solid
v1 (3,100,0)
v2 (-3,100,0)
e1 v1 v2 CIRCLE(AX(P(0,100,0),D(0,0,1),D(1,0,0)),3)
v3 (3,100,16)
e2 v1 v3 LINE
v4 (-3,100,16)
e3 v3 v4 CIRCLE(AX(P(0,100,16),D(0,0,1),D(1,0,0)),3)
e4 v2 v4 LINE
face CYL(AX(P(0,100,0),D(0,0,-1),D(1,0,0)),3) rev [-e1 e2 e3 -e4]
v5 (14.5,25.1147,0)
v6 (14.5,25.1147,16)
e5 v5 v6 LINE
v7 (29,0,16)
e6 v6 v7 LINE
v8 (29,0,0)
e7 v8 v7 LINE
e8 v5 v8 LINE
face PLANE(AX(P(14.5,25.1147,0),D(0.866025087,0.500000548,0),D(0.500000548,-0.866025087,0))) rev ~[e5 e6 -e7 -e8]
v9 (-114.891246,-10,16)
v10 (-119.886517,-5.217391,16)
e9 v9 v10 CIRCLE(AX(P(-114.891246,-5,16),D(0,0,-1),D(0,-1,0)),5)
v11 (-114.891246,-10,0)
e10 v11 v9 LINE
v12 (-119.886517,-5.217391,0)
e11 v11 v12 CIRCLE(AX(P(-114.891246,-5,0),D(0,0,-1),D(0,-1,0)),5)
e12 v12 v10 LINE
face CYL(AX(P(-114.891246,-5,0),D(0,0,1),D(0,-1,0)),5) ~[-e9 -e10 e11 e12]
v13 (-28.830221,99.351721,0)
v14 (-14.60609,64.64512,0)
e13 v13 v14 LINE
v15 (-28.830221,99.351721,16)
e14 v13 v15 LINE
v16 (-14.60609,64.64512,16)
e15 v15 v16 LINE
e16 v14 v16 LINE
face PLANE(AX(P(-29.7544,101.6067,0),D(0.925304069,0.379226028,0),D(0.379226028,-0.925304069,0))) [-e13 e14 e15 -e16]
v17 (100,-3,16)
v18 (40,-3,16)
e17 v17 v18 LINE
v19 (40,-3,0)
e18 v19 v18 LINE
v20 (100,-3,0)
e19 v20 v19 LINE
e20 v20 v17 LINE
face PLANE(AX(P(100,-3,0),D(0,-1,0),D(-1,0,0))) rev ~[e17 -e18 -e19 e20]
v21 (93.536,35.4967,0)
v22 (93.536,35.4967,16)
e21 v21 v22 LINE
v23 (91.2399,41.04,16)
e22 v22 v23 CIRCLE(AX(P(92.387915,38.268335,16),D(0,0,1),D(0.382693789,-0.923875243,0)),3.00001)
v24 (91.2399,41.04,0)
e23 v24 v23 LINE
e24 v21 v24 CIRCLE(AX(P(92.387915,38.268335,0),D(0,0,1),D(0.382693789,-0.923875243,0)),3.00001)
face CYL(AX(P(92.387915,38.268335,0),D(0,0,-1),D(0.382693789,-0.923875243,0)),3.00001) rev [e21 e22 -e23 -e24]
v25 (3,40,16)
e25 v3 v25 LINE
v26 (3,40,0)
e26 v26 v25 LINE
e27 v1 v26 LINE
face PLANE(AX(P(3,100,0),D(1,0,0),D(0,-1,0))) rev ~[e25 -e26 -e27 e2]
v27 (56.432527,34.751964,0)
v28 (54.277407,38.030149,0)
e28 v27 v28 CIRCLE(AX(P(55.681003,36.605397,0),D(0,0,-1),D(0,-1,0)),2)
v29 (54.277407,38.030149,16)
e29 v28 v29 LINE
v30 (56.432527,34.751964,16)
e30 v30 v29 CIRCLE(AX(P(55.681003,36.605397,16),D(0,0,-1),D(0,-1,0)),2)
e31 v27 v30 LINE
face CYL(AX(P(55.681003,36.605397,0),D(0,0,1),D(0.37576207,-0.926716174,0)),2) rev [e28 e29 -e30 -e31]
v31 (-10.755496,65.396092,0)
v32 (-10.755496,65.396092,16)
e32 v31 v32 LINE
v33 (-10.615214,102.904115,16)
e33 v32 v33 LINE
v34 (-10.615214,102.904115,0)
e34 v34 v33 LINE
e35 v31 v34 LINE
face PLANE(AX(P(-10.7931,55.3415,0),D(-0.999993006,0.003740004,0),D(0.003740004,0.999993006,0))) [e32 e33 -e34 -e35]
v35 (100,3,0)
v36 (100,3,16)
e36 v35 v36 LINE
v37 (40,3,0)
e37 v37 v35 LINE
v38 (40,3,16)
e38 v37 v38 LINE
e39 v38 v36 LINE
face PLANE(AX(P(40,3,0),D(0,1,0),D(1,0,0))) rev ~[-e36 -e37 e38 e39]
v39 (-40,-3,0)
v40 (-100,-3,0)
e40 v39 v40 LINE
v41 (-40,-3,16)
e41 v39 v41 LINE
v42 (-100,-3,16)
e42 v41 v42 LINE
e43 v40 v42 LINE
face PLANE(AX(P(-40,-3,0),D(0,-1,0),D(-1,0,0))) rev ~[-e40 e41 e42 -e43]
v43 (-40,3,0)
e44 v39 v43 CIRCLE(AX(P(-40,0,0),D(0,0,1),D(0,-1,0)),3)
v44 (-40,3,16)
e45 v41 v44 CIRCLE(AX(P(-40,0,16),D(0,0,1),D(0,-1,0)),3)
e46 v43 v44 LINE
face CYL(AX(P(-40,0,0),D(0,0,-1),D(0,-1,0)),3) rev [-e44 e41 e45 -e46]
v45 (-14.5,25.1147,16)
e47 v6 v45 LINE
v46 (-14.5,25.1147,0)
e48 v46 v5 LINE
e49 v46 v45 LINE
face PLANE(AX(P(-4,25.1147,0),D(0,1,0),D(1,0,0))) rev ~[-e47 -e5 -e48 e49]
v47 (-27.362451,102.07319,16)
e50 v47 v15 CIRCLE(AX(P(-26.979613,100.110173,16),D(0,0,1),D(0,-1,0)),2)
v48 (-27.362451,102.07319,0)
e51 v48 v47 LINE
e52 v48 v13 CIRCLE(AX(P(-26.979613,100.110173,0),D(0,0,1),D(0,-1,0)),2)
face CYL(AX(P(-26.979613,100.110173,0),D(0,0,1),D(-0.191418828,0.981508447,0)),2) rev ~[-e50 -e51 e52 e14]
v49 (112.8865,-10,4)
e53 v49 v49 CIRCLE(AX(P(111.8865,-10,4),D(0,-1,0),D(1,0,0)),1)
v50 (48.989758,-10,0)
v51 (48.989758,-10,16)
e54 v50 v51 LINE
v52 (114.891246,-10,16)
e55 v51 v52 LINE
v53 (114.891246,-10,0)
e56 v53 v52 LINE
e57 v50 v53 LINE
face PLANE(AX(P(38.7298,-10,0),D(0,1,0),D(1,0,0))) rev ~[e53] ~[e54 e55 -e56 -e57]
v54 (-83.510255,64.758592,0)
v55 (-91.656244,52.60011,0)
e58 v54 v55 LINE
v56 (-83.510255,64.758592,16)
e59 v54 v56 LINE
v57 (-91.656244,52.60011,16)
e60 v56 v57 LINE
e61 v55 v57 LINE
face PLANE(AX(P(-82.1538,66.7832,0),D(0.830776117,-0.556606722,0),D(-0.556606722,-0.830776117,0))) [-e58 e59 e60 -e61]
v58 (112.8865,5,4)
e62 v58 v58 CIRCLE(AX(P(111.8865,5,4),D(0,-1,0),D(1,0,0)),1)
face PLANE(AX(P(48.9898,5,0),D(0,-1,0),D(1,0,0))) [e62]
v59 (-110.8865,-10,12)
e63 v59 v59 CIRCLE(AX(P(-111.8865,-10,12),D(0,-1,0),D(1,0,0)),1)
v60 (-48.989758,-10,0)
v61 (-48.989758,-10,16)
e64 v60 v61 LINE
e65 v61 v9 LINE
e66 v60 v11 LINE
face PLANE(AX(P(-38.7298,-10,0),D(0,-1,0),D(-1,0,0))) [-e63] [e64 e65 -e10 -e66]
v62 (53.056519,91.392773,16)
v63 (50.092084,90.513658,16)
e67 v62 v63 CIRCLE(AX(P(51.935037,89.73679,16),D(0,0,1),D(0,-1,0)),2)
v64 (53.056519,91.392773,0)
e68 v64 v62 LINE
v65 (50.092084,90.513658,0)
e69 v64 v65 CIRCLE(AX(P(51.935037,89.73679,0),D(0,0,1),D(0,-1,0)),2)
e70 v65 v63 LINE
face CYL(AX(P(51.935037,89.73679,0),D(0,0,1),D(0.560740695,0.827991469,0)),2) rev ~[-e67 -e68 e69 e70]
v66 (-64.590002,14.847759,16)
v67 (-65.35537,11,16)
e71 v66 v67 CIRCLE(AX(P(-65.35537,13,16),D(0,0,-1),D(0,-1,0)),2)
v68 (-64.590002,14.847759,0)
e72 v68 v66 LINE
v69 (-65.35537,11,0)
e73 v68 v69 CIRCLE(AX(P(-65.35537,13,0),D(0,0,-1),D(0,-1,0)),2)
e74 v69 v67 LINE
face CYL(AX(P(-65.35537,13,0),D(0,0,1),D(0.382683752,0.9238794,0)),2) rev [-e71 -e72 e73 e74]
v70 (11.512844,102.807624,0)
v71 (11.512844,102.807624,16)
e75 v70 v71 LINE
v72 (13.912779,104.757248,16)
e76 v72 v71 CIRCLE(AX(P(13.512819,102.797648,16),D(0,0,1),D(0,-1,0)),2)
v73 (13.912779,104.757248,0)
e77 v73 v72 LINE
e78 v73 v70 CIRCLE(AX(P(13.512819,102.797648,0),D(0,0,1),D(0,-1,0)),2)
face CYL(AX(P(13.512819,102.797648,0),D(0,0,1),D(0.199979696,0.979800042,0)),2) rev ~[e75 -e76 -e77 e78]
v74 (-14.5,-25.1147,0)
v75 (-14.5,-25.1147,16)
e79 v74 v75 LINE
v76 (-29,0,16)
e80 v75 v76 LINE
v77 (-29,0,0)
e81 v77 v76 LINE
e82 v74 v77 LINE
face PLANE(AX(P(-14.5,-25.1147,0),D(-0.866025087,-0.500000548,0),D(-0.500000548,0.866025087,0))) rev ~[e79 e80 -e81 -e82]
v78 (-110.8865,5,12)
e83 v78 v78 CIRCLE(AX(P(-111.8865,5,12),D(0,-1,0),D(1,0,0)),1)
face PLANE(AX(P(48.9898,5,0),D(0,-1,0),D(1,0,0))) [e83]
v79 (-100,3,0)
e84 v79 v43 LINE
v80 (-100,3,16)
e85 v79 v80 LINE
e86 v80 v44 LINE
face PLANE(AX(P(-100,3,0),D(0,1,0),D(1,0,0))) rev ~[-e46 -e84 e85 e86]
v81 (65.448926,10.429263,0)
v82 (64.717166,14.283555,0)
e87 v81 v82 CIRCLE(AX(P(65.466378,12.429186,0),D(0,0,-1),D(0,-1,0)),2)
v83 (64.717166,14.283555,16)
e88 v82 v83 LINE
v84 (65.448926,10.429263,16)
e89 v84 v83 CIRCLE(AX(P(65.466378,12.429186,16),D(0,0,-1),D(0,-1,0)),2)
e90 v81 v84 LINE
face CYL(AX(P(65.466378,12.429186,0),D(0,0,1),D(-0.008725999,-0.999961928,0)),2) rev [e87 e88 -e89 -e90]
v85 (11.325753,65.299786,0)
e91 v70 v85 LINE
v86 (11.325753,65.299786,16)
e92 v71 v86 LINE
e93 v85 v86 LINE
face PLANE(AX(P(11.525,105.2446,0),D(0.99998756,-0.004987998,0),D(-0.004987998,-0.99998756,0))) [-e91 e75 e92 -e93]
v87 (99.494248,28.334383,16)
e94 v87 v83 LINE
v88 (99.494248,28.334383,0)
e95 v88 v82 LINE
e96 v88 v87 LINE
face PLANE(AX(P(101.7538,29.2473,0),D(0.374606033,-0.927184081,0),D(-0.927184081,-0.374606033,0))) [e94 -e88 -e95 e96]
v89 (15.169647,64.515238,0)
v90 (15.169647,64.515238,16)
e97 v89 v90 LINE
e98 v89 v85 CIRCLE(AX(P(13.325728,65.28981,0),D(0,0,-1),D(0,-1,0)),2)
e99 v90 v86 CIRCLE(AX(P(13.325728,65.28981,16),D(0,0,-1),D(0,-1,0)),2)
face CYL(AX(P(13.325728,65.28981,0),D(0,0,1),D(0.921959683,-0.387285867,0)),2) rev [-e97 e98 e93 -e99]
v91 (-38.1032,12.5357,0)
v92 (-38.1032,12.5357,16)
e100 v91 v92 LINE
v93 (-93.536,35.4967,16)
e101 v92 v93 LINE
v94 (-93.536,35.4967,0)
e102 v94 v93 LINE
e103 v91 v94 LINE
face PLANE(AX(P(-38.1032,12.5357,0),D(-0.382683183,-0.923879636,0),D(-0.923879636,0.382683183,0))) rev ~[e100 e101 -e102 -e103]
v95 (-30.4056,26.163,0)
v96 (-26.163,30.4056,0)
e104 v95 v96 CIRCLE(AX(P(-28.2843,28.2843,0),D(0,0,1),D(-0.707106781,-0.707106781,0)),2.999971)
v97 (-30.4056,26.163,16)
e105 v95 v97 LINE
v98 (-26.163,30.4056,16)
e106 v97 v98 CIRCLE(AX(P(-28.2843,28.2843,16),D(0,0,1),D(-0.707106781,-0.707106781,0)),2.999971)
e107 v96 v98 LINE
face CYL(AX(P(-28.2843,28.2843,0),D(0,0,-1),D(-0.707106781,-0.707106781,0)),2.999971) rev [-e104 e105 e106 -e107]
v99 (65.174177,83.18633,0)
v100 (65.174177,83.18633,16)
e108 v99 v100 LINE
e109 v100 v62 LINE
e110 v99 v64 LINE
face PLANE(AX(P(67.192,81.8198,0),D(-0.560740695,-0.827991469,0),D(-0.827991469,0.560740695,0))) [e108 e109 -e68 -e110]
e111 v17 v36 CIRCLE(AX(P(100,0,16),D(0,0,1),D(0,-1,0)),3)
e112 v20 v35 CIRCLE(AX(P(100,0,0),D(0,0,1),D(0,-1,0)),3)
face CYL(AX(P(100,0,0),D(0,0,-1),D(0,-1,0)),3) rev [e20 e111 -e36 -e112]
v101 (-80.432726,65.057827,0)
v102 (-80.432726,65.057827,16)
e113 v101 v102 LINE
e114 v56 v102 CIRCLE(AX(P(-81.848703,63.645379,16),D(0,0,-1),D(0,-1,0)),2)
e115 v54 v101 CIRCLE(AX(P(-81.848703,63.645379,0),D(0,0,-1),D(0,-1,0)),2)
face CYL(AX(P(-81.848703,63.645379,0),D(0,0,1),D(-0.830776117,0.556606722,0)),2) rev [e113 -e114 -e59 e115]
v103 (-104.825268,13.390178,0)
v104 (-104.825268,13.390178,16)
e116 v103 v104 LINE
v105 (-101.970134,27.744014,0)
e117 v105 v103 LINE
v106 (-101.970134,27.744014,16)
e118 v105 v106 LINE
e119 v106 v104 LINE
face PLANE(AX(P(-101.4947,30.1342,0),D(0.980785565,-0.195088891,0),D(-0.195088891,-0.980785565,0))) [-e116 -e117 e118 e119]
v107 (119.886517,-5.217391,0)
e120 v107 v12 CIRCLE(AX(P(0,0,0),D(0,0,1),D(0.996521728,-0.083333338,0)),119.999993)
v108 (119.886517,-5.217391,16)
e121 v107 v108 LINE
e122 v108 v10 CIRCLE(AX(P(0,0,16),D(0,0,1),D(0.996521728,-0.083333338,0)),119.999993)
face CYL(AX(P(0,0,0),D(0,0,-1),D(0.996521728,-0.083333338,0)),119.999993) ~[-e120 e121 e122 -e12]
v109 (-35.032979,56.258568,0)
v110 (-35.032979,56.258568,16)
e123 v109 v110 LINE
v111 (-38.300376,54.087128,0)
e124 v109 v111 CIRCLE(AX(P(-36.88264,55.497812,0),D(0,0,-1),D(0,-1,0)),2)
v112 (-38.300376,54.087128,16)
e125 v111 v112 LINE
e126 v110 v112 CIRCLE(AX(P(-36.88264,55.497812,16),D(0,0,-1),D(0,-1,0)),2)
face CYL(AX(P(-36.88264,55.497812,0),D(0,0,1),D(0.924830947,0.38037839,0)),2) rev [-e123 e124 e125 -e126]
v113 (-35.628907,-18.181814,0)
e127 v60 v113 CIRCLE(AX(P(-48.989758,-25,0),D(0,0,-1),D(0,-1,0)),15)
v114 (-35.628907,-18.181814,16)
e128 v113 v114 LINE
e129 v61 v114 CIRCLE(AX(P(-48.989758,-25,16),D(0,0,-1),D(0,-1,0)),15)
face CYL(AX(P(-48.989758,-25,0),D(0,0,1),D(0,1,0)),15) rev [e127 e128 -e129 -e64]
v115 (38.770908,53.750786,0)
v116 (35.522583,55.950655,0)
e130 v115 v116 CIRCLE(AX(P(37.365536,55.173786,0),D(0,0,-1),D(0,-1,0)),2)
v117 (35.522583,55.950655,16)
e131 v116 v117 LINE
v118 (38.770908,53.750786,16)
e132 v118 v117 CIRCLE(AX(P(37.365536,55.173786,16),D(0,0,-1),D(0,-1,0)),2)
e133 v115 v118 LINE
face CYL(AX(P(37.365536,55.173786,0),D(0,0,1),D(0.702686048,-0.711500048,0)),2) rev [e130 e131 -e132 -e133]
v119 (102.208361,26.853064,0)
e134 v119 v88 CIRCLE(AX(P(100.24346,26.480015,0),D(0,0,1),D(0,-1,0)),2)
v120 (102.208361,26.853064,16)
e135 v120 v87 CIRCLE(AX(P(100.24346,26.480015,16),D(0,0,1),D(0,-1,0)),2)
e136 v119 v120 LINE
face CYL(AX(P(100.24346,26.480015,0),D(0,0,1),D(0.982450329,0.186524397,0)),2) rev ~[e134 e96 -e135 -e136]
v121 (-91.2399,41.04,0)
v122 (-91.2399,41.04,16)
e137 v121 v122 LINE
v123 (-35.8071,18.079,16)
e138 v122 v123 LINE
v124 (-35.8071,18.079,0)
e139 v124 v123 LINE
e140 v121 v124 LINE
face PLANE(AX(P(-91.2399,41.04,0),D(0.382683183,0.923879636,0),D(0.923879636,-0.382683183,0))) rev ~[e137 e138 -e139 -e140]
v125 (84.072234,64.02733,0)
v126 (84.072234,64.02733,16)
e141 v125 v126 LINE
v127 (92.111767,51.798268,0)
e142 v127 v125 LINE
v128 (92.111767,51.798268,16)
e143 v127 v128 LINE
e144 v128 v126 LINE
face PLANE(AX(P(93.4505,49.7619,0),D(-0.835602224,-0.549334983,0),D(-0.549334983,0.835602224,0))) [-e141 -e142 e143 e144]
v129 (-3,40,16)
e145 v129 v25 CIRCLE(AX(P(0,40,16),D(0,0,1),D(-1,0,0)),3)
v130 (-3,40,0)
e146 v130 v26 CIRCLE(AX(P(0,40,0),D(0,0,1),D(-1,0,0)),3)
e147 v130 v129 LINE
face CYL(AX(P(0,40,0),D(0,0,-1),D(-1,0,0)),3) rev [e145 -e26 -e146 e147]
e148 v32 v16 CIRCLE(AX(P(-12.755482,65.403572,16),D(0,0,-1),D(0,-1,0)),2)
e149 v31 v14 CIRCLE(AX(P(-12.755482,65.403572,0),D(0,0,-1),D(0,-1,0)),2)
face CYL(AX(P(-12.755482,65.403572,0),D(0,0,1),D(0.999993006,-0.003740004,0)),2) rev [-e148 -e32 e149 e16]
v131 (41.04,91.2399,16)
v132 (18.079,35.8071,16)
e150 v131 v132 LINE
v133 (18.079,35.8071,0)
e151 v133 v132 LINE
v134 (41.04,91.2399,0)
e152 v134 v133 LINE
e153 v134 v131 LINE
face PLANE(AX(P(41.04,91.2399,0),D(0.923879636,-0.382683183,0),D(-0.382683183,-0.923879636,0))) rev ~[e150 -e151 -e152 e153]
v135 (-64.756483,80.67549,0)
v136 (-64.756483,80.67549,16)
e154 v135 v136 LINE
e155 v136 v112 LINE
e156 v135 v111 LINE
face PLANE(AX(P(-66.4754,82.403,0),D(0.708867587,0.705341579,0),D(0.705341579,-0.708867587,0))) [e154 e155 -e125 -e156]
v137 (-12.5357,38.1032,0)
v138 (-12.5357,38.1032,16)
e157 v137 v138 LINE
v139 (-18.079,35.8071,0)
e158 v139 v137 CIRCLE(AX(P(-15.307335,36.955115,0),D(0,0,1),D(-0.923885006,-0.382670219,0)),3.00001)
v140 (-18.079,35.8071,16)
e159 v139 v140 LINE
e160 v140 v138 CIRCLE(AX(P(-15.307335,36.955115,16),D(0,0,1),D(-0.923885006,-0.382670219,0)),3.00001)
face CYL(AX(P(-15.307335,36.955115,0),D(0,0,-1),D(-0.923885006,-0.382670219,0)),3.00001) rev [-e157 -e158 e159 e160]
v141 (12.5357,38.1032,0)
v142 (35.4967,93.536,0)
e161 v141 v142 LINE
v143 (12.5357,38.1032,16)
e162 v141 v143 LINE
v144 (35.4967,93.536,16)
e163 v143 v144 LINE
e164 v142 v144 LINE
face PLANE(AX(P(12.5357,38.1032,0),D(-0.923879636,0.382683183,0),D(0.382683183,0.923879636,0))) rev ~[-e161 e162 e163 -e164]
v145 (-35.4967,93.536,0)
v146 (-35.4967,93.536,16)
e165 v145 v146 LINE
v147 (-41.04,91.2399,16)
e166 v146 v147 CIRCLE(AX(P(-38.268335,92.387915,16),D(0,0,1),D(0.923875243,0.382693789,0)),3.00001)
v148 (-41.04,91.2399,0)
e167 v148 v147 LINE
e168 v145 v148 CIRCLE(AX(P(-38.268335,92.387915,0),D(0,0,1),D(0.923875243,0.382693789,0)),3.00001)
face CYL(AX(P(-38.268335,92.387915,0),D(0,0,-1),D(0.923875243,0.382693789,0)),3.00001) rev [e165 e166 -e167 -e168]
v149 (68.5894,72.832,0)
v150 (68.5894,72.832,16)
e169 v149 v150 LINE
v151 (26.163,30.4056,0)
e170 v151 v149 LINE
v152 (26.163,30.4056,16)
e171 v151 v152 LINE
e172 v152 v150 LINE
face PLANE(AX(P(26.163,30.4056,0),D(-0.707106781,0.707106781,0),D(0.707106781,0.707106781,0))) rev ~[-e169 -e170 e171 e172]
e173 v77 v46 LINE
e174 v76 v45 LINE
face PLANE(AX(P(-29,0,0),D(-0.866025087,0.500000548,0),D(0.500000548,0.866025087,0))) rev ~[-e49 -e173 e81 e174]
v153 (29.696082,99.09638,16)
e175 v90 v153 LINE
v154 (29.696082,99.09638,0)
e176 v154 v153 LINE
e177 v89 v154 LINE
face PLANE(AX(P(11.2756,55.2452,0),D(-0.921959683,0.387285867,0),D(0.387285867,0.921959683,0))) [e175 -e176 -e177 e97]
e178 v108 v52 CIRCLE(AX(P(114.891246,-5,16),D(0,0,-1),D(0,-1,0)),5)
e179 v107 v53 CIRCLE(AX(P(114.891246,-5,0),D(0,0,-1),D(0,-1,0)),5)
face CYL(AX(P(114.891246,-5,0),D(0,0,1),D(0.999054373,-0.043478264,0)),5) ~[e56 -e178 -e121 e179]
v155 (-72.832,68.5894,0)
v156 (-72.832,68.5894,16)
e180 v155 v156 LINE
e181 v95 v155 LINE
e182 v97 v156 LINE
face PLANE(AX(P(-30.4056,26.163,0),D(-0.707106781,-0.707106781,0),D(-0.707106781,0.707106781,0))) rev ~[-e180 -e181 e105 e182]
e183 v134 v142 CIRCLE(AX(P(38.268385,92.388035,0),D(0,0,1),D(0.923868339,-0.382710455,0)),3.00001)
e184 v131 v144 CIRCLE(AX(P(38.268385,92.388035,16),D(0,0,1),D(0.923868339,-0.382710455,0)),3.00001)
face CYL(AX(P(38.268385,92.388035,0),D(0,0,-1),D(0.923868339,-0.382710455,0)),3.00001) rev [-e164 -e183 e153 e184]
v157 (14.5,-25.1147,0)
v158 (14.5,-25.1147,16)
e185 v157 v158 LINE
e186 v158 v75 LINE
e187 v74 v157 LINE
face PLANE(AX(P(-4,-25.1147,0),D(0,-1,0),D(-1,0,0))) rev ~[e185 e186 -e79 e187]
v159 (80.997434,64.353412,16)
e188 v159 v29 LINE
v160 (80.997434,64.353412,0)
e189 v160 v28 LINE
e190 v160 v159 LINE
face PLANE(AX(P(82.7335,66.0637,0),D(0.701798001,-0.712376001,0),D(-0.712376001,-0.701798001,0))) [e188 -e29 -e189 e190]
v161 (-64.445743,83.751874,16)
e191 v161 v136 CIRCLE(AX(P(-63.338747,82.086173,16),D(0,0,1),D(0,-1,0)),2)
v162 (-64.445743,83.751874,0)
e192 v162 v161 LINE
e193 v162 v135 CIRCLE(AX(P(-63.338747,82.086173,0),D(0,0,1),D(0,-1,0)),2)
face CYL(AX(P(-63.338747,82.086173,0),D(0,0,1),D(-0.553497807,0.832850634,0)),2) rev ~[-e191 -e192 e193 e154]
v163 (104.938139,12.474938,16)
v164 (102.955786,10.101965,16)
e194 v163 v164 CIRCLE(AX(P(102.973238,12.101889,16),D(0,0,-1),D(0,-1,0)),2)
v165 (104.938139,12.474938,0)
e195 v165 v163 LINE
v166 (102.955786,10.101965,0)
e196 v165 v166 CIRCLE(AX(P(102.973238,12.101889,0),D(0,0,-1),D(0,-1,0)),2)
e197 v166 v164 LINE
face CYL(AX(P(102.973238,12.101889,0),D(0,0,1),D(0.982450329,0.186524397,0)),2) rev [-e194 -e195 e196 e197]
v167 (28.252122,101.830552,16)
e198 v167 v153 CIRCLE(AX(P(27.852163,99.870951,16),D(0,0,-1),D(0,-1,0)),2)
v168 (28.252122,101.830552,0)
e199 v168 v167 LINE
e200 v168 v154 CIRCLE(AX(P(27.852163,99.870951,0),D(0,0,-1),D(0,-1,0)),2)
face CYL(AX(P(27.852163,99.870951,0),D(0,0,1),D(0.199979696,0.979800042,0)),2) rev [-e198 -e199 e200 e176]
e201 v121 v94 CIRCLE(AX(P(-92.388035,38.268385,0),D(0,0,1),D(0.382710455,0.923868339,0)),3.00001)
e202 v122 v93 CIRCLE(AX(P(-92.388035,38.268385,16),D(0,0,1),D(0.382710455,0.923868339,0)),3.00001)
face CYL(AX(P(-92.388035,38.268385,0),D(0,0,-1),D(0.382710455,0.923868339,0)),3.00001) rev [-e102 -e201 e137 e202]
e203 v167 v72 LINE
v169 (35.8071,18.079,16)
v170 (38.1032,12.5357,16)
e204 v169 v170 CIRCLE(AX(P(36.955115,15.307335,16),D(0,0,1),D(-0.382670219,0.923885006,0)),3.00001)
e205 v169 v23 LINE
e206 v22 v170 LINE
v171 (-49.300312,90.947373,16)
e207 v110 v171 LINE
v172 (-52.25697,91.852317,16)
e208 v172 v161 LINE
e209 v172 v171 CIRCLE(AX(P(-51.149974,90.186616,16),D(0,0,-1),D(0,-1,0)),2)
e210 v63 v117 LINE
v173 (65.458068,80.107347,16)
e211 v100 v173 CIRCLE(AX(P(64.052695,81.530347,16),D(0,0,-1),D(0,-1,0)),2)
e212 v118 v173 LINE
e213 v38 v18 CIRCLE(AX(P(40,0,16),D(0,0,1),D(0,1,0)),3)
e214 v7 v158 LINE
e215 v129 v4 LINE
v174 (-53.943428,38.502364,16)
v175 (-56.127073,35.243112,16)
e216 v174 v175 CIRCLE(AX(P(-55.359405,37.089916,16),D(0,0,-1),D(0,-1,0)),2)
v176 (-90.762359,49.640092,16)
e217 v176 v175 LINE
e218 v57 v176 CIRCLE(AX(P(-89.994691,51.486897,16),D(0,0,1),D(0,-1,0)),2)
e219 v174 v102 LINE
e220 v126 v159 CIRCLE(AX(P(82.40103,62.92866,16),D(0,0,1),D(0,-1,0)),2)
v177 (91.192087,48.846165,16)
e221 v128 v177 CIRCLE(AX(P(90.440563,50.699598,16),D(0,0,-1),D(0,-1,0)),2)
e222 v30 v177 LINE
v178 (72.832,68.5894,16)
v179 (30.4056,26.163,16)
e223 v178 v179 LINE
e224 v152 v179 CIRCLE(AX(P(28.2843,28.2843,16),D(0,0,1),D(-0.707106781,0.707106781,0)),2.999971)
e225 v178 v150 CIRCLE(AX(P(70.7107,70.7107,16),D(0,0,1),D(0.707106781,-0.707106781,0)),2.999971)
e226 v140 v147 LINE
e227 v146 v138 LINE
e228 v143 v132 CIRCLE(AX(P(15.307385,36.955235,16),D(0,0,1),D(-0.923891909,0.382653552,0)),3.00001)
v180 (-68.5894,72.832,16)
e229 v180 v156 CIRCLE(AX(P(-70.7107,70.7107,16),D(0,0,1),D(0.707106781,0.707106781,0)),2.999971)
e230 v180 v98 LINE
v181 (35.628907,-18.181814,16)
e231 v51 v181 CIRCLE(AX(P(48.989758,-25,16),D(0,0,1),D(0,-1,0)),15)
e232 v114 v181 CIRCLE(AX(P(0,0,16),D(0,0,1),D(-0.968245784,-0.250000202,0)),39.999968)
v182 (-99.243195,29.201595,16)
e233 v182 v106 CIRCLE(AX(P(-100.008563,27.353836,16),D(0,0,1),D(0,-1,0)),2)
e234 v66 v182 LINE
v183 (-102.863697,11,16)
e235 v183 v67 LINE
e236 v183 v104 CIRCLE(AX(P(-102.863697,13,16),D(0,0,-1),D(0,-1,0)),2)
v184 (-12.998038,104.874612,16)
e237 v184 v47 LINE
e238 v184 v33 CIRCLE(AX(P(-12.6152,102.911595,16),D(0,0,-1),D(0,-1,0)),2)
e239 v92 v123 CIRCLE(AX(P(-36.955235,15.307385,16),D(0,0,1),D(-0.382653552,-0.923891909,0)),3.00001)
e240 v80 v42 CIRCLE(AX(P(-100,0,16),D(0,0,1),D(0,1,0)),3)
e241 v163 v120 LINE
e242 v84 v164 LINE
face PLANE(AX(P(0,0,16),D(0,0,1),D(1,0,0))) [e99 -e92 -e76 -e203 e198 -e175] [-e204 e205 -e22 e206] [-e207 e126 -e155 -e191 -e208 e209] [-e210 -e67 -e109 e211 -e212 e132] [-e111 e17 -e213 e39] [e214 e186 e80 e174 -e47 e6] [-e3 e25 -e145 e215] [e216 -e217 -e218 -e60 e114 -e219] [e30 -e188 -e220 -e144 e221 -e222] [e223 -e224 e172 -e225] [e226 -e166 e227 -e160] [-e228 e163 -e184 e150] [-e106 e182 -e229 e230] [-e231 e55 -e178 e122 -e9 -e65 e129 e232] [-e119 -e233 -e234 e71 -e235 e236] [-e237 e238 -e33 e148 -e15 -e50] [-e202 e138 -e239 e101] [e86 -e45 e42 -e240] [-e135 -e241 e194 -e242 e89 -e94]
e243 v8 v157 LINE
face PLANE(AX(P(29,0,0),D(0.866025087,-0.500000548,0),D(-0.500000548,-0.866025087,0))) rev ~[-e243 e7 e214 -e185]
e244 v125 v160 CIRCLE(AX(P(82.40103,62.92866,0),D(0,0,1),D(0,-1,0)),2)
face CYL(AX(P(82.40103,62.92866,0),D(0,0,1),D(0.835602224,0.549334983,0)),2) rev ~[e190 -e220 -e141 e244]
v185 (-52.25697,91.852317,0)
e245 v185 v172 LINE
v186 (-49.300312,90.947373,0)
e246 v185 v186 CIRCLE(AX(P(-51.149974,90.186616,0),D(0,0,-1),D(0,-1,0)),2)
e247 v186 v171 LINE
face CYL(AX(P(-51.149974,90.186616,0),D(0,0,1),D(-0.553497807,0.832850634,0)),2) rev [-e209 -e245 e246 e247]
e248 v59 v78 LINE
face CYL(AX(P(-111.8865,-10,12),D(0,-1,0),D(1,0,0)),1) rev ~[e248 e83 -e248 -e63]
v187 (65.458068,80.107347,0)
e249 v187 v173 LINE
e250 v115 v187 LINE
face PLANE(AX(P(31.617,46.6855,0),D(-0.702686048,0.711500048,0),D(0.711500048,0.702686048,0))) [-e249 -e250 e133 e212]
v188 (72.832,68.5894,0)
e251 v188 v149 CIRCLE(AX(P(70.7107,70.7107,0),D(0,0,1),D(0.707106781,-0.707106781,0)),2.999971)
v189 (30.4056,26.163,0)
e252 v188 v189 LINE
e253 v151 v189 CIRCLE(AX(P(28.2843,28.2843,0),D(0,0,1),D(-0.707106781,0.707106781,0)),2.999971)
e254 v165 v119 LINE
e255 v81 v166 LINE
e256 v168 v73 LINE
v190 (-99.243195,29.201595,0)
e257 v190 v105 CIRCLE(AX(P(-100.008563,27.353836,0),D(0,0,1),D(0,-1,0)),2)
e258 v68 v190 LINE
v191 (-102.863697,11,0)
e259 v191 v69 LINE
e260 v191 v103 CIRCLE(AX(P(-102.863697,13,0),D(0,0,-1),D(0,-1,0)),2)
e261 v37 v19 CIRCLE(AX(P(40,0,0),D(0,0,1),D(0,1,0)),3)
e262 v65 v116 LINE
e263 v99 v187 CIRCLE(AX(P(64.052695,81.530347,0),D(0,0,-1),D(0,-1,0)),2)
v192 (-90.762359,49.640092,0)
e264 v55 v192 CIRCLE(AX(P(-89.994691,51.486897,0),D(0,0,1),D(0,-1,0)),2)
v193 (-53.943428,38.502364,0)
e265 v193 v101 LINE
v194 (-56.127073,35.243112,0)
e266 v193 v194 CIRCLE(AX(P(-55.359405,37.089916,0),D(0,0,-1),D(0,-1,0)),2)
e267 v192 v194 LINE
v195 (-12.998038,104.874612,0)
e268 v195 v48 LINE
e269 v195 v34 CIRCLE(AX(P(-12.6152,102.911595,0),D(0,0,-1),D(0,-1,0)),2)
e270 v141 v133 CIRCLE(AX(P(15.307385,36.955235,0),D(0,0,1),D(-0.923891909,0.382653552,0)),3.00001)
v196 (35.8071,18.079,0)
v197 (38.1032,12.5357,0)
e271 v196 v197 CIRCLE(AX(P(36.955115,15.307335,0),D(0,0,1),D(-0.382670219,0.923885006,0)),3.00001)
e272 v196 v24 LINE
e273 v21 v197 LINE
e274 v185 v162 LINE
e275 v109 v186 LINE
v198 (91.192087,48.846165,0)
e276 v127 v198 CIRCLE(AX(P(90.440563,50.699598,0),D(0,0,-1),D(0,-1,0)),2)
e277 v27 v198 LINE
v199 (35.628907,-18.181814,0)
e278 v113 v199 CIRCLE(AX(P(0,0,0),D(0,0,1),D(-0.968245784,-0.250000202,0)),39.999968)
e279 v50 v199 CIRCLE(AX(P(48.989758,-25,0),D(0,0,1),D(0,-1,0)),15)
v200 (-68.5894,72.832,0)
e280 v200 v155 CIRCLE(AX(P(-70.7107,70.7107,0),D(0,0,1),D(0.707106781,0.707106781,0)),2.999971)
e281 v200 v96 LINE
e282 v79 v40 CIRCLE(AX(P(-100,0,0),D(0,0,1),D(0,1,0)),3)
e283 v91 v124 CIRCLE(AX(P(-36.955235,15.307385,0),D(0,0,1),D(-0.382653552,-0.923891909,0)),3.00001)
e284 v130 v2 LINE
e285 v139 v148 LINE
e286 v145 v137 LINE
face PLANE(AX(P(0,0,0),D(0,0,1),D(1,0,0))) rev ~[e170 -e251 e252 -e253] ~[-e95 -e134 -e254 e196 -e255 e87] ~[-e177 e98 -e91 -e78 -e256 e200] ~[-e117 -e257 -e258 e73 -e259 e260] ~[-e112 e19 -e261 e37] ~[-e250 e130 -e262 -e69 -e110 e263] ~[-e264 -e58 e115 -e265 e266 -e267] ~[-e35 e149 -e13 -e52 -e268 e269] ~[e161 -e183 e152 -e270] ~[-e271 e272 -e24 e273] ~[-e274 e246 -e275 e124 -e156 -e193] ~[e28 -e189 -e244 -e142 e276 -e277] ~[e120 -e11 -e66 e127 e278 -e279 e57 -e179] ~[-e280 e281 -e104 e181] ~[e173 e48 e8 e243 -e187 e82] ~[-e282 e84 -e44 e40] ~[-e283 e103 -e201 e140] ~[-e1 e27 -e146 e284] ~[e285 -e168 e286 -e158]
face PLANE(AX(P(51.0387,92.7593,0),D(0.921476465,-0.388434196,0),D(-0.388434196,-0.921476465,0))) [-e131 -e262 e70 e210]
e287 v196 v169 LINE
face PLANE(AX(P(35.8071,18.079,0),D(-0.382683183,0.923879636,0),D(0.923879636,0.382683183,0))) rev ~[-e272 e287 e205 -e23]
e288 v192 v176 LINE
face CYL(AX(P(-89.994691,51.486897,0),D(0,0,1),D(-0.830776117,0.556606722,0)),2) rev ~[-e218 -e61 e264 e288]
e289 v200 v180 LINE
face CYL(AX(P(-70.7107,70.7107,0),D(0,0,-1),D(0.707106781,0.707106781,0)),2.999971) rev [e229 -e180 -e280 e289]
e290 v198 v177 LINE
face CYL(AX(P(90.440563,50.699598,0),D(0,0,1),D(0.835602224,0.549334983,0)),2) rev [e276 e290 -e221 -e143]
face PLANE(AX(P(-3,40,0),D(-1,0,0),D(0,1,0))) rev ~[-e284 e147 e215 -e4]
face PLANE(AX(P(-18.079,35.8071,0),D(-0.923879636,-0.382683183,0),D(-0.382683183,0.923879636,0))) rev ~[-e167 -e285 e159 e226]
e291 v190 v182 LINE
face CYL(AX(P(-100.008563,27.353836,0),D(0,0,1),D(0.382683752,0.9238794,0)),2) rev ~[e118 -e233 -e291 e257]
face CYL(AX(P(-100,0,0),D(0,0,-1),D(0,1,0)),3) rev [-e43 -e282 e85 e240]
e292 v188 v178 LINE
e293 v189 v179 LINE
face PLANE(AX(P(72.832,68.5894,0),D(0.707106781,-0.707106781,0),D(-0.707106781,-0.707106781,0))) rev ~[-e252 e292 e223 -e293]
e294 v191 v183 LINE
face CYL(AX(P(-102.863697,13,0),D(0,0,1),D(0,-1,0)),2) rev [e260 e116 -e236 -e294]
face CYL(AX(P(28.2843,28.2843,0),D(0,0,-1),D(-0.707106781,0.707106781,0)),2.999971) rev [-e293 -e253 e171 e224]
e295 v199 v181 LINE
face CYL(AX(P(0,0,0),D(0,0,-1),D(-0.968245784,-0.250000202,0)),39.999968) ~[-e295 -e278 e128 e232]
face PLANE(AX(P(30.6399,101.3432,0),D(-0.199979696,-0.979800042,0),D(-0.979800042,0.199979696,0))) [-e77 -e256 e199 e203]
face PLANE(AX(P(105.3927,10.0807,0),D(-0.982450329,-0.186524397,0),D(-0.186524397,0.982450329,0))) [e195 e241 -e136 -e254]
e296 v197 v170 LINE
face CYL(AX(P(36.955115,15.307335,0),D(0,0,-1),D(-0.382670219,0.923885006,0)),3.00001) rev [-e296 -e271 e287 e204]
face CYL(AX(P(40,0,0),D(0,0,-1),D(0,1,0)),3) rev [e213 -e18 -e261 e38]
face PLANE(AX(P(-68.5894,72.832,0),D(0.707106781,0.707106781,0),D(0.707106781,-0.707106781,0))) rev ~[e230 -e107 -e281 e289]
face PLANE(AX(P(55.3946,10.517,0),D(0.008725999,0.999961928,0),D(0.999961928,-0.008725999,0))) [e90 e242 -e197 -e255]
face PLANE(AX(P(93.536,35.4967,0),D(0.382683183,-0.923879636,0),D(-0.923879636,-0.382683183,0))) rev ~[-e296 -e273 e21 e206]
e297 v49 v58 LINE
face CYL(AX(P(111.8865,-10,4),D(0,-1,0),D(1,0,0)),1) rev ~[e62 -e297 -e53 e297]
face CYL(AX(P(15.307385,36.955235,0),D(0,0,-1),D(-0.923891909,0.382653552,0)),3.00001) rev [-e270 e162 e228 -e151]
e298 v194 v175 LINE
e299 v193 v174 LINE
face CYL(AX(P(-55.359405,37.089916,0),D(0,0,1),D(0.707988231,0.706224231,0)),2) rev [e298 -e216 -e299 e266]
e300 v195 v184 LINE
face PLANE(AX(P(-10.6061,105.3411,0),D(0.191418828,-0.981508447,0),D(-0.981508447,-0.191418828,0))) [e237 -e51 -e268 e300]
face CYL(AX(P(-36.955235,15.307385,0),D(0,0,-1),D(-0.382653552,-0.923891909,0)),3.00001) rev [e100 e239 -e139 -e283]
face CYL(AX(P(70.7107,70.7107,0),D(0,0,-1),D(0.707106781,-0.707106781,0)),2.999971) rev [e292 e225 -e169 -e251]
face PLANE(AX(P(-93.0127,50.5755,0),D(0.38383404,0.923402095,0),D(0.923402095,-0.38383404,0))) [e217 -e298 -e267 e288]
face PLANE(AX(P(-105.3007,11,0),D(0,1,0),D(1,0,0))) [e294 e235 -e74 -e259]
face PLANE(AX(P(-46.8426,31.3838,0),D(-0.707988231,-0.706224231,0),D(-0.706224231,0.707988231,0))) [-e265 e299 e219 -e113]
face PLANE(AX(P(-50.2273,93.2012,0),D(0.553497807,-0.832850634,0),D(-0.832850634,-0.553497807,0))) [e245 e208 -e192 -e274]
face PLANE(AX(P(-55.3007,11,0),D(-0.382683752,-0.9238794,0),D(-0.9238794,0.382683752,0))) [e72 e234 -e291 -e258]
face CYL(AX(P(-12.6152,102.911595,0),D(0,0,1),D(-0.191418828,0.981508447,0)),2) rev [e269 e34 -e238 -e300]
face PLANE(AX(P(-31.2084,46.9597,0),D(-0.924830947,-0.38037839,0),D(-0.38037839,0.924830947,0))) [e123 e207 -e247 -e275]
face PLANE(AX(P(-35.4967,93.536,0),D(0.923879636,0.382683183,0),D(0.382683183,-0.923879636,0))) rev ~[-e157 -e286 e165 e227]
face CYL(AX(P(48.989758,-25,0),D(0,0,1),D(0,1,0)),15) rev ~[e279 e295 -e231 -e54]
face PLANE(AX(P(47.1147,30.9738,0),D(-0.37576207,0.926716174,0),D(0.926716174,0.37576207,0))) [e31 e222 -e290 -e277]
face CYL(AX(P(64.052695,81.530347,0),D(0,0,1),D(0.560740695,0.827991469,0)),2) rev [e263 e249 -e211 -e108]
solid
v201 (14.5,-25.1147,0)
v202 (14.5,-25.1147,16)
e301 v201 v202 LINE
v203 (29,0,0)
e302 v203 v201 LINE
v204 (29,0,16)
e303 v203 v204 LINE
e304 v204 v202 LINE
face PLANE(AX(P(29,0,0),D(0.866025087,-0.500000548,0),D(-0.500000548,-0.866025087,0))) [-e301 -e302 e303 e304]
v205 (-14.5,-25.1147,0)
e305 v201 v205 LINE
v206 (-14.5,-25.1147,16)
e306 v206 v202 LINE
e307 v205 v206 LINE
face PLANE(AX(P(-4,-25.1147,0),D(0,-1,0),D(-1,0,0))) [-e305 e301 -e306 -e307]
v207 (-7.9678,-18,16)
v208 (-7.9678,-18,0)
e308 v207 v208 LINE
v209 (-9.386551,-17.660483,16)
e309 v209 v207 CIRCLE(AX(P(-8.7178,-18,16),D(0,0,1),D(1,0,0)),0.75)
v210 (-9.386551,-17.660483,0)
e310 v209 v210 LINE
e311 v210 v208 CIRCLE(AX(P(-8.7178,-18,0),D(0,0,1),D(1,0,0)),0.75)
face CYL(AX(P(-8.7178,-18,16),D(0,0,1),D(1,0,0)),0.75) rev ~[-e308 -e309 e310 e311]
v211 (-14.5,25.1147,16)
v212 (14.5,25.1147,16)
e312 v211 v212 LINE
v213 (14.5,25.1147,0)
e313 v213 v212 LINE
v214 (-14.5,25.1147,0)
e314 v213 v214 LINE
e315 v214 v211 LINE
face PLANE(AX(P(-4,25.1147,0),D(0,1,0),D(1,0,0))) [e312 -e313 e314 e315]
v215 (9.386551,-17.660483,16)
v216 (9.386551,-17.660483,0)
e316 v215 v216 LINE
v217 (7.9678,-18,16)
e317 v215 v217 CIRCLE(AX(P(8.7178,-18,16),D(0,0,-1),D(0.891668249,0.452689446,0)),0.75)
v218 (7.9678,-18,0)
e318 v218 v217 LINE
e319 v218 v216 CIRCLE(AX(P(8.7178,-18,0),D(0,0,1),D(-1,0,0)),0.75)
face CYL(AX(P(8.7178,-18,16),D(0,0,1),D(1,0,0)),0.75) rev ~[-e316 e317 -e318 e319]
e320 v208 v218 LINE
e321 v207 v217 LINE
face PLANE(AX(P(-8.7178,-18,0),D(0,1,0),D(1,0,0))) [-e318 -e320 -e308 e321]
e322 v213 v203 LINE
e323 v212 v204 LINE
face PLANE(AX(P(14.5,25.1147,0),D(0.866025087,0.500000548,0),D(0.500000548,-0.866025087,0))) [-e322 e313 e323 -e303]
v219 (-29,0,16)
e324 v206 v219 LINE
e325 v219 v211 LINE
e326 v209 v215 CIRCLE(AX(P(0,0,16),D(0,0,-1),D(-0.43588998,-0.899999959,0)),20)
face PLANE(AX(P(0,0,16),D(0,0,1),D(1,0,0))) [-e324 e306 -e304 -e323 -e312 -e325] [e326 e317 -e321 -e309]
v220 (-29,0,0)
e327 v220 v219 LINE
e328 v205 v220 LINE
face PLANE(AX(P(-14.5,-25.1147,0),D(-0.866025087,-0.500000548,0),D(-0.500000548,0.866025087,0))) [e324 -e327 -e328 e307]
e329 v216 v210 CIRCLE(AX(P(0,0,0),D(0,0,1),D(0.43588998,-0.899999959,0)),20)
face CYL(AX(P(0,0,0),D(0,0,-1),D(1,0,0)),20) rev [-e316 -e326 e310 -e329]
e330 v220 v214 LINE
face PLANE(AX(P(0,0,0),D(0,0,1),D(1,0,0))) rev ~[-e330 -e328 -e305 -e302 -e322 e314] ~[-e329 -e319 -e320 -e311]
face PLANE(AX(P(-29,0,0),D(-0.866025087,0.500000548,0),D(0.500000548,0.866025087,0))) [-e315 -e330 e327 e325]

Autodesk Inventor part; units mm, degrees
ref_plane "YZ Plane" through (0, 0, 0) normal (1, 0, 0) x (0, 1, 0)
ref_plane "XZ Plane" through (0, 0, 0) normal (0, 1, 0) x (-1, 0, 0)
ref_plane "XY Plane" through (0, 0, 0) normal (0, 0, 1) x (1, 0, 0)
sketch "Skizze1" plane through (0, 0, 0) normal (0, 0, 1) x (1, 0, 0)
  line L0 (-4, 29) -> (4, 29)
  line L1 (4, 29) -> (4, 19.5959)
  line L2 (-4, 19.5959) -> (-4, 29)
  line L3 (-4, 29) -> (4, 19.5959) construction
  line L4 (4, 29) -> (-4, 19.5959) construction
  line L5 (0, 152) -> (0, -72) construction
  line L6 (-168, 0) -> (168, 0) construction
  line L7 (-40, 0) -> (-100, 0) construction
  line L8 (-40, -3) -> (-100, -3)
  line L9 (-100, 3) -> (-40, 3)
  arc A0 (-40, -3) -> (-40, 3) centre (-40, 0) ccw
  arc A1 (-100, 3) -> (-100, -3) centre (-100, 0) ccw
  arc A2 (-38.7298, -10) -> (38.7298, -10) centre (0, 0) ccw
  line L10 (-38.7298, -10) -> (-119.5826, -10)
  line L11 (38.7298, -10) -> (119.5826, -10)
  arc A3 (119.5826, -10) -> (-119.5826, -10) centre (0, 0) ccw
  arc A4 (-38.1032, 12.5357) -> (-35.8071, 18.079) centre (-36.9552, 15.3073) ccw
  line L12 (-91.2399, 41.04) -> (-35.8071, 18.079)
  line L13 (-36.9552, 15.3073) -> (-92.388, 38.2683) construction
  arc A5 (-91.2399, 41.04) -> (-93.536, 35.4967) centre (-92.388, 38.2683) ccw
  line L14 (-38.1032, 12.5357) -> (-93.536, 35.4967)
  arc A6 (-30.4056, 26.163) -> (-26.163, 30.4056) centre (-28.2843, 28.2843) ccw
  line L15 (-68.5894, 72.832) -> (-26.163, 30.4056)
  line L16 (-28.2843, 28.2843) -> (-70.7107, 70.7107) construction
  arc A7 (-68.5894, 72.832) -> (-72.832, 68.5894) centre (-70.7107, 70.7107) ccw
  line L17 (-30.4056, 26.163) -> (-72.832, 68.5894)
  arc A8 (-18.079, 35.8071) -> (-12.5357, 38.1032) centre (-15.3073, 36.9552) ccw
  line L18 (-35.4967, 93.536) -> (-12.5357, 38.1032)
  line L19 (-15.3073, 36.9552) -> (-38.2683, 92.388) construction
  arc A9 (-35.4967, 93.536) -> (-41.04, 91.2399) centre (-38.2683, 92.388) ccw
  line L20 (-18.079, 35.8071) -> (-41.04, 91.2399)
  arc A10 (-3, 40) -> (3, 40) centre (0, 40) ccw
  line L21 (3, 100) -> (3, 40)
  line L22 (0, 40) -> (0, 100) construction
  arc A11 (3, 100) -> (-3, 100) centre (0, 100) ccw
  line L23 (-3, 40) -> (-3, 100)
  arc A12 (12.5357, 38.1032) -> (18.079, 35.8071) centre (15.3073, 36.9552) ccw
  line L24 (41.04, 91.2399) -> (18.079, 35.8071)
  line L25 (15.3073, 36.9552) -> (38.2683, 92.388) construction
  arc A13 (41.04, 91.2399) -> (35.4967, 93.536) centre (38.2683, 92.388) ccw
  line L26 (12.5357, 38.1032) -> (35.4967, 93.536)
  arc A14 (26.163, 30.4056) -> (30.4056, 26.163) centre (28.2843, 28.2843) ccw
  line L27 (72.832, 68.5894) -> (30.4056, 26.163)
  line L28 (28.2843, 28.2843) -> (70.7107, 70.7107) construction
  arc A15 (72.832, 68.5894) -> (68.5894, 72.832) centre (70.7107, 70.7107) ccw
  line L29 (26.163, 30.4056) -> (68.5894, 72.832)
  arc A16 (35.8071, 18.079) -> (38.1032, 12.5357) centre (36.9552, 15.3073) ccw
  line L30 (93.536, 35.4967) -> (38.1032, 12.5357)
  line L31 (36.9552, 15.3073) -> (92.388, 38.2683) construction
  arc A17 (93.536, 35.4967) -> (91.2399, 41.04) centre (92.388, 38.2683) ccw
  line L32 (35.8071, 18.079) -> (91.2399, 41.04)
  arc A18 (40, 3) -> (40, -3) centre (40, 0) ccw
  line L33 (100, -3) -> (40, -3)
  line L34 (40, 0) -> (100, 0) construction
  arc A19 (100, -3) -> (100, 3) centre (100, 0) ccw
  line L35 (40, 3) -> (100, 3)
  line L36 (-55.3007, 11) -> (-101.4947, 30.1342)
  line L37 (-101.4947, 30.1342) -> (-105.3007, 11)
  line L38 (-105.3007, 11) -> (-55.3007, 11)
  line L39 (-82.1538, 66.7832) -> (-93.0127, 50.5755)
  line L40 (-46.8426, 31.3838) -> (-82.1538, 66.7832)
  line L41 (-93.0127, 50.5755) -> (-46.8426, 31.3838)
  line L42 (-50.2273, 93.2012) -> (-66.4754, 82.403)
  line L43 (-31.2084, 46.9597) -> (-50.2273, 93.2012)
  line L44 (-66.4754, 82.403) -> (-31.2084, 46.9597)
  line L45 (-10.6061, 105.3411) -> (-29.7544, 101.6067)
  line L46 (-10.7931, 55.3415) -> (-10.6061, 105.3411)
  line L47 (-29.7544, 101.6067) -> (-10.7931, 55.3415)
  line L48 (30.6399, 101.3432) -> (11.525, 105.2446)
  line L49 (11.2756, 55.2452) -> (30.6399, 101.3432)
  line L50 (11.525, 105.2446) -> (11.2756, 55.2452)
  line L51 (67.192, 81.8198) -> (51.0387, 92.7593)
  line L52 (31.617, 46.6855) -> (67.192, 81.8198)
  line L53 (51.0387, 92.7593) -> (31.617, 46.6855)
  line L54 (93.4505, 49.7619) -> (82.7335, 66.0637)
  line L55 (47.1147, 30.9738) -> (93.4505, 49.7619)
  line L56 (82.7335, 66.0637) -> (47.1147, 30.9738)
  line L57 (105.3927, 10.0807) -> (101.7538, 29.2473)
  line L58 (55.3946, 10.517) -> (105.3927, 10.0807)
  line L59 (101.7538, 29.2473) -> (55.3946, 10.517)
  circle A20 centre (0, 0) radius 20
  line L60 (0, 20) -> (4, 20) construction
  line L61 (-4, -29) -> (4, -29)
  line L62 (4, -29) -> (4, -19.5959)
  line L63 (-4, -19.5959) -> (-4, -29)
  line L64 (-4, -29) -> (4, -19.5959) construction
  line L65 (4, -29) -> (-4, -19.5959) construction
  line L66 (0, -20) -> (4, -20) construction
  arc A21 (-4, 19.5959) -> (-4, -19.5959) centre (0, 0) ccw
  arc A22 (4, -19.5959) -> (4, 19.5959) centre (0, 0) ccw
  line L67 (-8.7178, -18) -> (8.7178, -18)
  line L68 (-8.7178, 18) -> (8.7178, 18)
  line L69 (-14.5, -25.1147) -> (-29, 0)
  line L70 (-29, 0) -> (-14.5, 25.1147)
  line L71 (-14.5, 25.1147) -> (14.5, 25.1147)
  line L72 (14.5, 25.1147) -> (29, 0)
  line L73 (29, 0) -> (14.5, -25.1147)
  line L74 (14.5, -25.1147) -> (-14.5, -25.1147)
  line L75 (8.594, -25.1147) -> (26.047, 5.1147) construction
  circle A23 centre (0, 0) radius 29 construction
  point P0 (0, 24.298)
  point P1 (-70, 0)
  point P2 (-64.6716, 26.7878)
  point P3 (-49.4975, 49.4975)
  point P4 (-26.7878, 64.6716)
  point P5 (0, 70)
  point P6 (26.7878, 64.6716)
  point P7 (49.4975, 49.4975)
  point P8 (64.6716, 26.7878)
  point P9 (70, 0)
  point P10 (0, -24.298)
  point P11 (4, -19.5959)
  point P12 (-4, -19.5959)
  point P13 (0, 110)
  point P14 (0, 37)
  point P15 (-8.7178, 18)
  point P16 (8.7178, 18)
  dimension "d67" = 58
  dimension "d2" = 8
  dimension "d7" = 60
  dimension "d8" = 3
  dimension "d9" = 70
  dimension "d12" = 180
  dimension "CapstonBig_Radius" = 120
  dimension "d19" = 40
  dimension "d21" = 8
  dimension "d22" = 8
  dimension "d23" = 50
  dimension "d24" = 50
  dimension "d27" = 158
  dimension "d43" = 20
  dimension "d44" = 10
  dimension "d45" = 110
  dimension "d53" = 2
  dimension "d54" = 8
  dimension "d55" = 18
  dimension "d56" = 8.7178
  dimension "d57" = 19.5959
  dimension "d58" = 4
  dimension "d59" = 19.5959
  dimension "d60" = 4
  dimension "d61" = 18
  dimension "d62" = 8.7178
  dimension "d63" = 2
  dimension "d68" = 5.1147
extrude "Extrusion1" add sketch "Skizze1" along normal blind 16 contours L0 L1 L71 L2 | L74 L62 L61 L63 | L10 A3 L11 A2
fillet "Rundung1" radius 15 2 edges at (-38.7298, -10, 8) (38.7298, -10, 8)
fillet "Rundung2" radius 5 2 edges at (119.5826, -10, 8) (-119.5826, -10, 8)
sketch "Skizze2" plane through (48.9898, -10, 0) normal (0, -1, 0) x (1, 0, 0)
  circle A0 centre (62.8967, 4) radius 1
  line L0 (0, 0) -> (65.9015, 0) projected
  circle A1 centre (-160.8763, 12) radius 1
  line L1 (-163.881, 16) -> (-97.9796, 16) projected
  line L2 (-168.8763, 16) -> (-168.8763, 0) projected
  line L3 (70.8967, 0) -> (70.8967, 16) projected
  point P0 (-48.9898, 0)
  dimension "d29" = 4
  dimension "d30" = 2
  dimension "d31" = 4
  dimension "d32" = 2
  dimension "d33" = 8
  dimension "d34" = 8
extrude "Extrusion2" cut sketch "Skizze2" against normal blind 15
fillet "Rundung3" radius 2 24 edges at (-101.4947, 30.1342, 8) (-105.3007, 11, 8) (-93.0127, 50.5755, 8) (-66.4754, 82.403, 8) (-10.6061, 105.3411, 8) (-50.2273, 93.2012, 8) (-82.1538, 66.7832, 8) (-29.7544, 101.6067, 8) (30.6399, 101.3432, 8) (11.525, 105.2446, 8) (67.192, 81.8198, 8) (51.0387, 92.7593, 8) (93.4505, 49.7619, 8) (82.7335, 66.0637, 8) (101.7538, 29.2473, 8) (105.3927, 10.0807, 8) (-55.3007, 11, 8) (-46.8426, 31.3838, 8) (-31.2084, 46.9597, 8) (-10.7931, 55.3415, 8) (11.2756, 55.2452, 8) (31.617, 46.6855, 8) (47.1147, 30.9738, 8) (55.3946, 10.517, 8)
ref_plane "Arbeitsebene1" through (0, 0, 8) normal (0, 0, 1) x (1, 0, 0)
extrude "Extrusion4" add sketch "Skizze1" along normal up to surface (16 mm away) separate body contours L71 L1 A20 L2 | L2 A20 L63 L74 L69 L70 L71 | L71 L72 L73 L74 L62 A20 L1 | L67 A20 | A20 L62 L74 L63
sketch "Sketch3" plane through (-14.5, -25.1147, 16) normal (0, 0, 1) x (1, 0, 0)
  circle A0 centre (5.7822, 7.1147) radius 0.75
  circle A1 centre (23.2178, 7.1147) radius 0.75
  point P0 (14.5, 25.1147)
  dimension "d75" = 1.5
extrude "Extrusion5" cut sketch "Sketch3" against normal through all bodies 2
equation "\"d43\" = Shaft_CapstonPart_Dia"
equation "\"Shaft_CapstonPart_Dia\" = 20"
properties part number "Capstonradialdisc_v2"
